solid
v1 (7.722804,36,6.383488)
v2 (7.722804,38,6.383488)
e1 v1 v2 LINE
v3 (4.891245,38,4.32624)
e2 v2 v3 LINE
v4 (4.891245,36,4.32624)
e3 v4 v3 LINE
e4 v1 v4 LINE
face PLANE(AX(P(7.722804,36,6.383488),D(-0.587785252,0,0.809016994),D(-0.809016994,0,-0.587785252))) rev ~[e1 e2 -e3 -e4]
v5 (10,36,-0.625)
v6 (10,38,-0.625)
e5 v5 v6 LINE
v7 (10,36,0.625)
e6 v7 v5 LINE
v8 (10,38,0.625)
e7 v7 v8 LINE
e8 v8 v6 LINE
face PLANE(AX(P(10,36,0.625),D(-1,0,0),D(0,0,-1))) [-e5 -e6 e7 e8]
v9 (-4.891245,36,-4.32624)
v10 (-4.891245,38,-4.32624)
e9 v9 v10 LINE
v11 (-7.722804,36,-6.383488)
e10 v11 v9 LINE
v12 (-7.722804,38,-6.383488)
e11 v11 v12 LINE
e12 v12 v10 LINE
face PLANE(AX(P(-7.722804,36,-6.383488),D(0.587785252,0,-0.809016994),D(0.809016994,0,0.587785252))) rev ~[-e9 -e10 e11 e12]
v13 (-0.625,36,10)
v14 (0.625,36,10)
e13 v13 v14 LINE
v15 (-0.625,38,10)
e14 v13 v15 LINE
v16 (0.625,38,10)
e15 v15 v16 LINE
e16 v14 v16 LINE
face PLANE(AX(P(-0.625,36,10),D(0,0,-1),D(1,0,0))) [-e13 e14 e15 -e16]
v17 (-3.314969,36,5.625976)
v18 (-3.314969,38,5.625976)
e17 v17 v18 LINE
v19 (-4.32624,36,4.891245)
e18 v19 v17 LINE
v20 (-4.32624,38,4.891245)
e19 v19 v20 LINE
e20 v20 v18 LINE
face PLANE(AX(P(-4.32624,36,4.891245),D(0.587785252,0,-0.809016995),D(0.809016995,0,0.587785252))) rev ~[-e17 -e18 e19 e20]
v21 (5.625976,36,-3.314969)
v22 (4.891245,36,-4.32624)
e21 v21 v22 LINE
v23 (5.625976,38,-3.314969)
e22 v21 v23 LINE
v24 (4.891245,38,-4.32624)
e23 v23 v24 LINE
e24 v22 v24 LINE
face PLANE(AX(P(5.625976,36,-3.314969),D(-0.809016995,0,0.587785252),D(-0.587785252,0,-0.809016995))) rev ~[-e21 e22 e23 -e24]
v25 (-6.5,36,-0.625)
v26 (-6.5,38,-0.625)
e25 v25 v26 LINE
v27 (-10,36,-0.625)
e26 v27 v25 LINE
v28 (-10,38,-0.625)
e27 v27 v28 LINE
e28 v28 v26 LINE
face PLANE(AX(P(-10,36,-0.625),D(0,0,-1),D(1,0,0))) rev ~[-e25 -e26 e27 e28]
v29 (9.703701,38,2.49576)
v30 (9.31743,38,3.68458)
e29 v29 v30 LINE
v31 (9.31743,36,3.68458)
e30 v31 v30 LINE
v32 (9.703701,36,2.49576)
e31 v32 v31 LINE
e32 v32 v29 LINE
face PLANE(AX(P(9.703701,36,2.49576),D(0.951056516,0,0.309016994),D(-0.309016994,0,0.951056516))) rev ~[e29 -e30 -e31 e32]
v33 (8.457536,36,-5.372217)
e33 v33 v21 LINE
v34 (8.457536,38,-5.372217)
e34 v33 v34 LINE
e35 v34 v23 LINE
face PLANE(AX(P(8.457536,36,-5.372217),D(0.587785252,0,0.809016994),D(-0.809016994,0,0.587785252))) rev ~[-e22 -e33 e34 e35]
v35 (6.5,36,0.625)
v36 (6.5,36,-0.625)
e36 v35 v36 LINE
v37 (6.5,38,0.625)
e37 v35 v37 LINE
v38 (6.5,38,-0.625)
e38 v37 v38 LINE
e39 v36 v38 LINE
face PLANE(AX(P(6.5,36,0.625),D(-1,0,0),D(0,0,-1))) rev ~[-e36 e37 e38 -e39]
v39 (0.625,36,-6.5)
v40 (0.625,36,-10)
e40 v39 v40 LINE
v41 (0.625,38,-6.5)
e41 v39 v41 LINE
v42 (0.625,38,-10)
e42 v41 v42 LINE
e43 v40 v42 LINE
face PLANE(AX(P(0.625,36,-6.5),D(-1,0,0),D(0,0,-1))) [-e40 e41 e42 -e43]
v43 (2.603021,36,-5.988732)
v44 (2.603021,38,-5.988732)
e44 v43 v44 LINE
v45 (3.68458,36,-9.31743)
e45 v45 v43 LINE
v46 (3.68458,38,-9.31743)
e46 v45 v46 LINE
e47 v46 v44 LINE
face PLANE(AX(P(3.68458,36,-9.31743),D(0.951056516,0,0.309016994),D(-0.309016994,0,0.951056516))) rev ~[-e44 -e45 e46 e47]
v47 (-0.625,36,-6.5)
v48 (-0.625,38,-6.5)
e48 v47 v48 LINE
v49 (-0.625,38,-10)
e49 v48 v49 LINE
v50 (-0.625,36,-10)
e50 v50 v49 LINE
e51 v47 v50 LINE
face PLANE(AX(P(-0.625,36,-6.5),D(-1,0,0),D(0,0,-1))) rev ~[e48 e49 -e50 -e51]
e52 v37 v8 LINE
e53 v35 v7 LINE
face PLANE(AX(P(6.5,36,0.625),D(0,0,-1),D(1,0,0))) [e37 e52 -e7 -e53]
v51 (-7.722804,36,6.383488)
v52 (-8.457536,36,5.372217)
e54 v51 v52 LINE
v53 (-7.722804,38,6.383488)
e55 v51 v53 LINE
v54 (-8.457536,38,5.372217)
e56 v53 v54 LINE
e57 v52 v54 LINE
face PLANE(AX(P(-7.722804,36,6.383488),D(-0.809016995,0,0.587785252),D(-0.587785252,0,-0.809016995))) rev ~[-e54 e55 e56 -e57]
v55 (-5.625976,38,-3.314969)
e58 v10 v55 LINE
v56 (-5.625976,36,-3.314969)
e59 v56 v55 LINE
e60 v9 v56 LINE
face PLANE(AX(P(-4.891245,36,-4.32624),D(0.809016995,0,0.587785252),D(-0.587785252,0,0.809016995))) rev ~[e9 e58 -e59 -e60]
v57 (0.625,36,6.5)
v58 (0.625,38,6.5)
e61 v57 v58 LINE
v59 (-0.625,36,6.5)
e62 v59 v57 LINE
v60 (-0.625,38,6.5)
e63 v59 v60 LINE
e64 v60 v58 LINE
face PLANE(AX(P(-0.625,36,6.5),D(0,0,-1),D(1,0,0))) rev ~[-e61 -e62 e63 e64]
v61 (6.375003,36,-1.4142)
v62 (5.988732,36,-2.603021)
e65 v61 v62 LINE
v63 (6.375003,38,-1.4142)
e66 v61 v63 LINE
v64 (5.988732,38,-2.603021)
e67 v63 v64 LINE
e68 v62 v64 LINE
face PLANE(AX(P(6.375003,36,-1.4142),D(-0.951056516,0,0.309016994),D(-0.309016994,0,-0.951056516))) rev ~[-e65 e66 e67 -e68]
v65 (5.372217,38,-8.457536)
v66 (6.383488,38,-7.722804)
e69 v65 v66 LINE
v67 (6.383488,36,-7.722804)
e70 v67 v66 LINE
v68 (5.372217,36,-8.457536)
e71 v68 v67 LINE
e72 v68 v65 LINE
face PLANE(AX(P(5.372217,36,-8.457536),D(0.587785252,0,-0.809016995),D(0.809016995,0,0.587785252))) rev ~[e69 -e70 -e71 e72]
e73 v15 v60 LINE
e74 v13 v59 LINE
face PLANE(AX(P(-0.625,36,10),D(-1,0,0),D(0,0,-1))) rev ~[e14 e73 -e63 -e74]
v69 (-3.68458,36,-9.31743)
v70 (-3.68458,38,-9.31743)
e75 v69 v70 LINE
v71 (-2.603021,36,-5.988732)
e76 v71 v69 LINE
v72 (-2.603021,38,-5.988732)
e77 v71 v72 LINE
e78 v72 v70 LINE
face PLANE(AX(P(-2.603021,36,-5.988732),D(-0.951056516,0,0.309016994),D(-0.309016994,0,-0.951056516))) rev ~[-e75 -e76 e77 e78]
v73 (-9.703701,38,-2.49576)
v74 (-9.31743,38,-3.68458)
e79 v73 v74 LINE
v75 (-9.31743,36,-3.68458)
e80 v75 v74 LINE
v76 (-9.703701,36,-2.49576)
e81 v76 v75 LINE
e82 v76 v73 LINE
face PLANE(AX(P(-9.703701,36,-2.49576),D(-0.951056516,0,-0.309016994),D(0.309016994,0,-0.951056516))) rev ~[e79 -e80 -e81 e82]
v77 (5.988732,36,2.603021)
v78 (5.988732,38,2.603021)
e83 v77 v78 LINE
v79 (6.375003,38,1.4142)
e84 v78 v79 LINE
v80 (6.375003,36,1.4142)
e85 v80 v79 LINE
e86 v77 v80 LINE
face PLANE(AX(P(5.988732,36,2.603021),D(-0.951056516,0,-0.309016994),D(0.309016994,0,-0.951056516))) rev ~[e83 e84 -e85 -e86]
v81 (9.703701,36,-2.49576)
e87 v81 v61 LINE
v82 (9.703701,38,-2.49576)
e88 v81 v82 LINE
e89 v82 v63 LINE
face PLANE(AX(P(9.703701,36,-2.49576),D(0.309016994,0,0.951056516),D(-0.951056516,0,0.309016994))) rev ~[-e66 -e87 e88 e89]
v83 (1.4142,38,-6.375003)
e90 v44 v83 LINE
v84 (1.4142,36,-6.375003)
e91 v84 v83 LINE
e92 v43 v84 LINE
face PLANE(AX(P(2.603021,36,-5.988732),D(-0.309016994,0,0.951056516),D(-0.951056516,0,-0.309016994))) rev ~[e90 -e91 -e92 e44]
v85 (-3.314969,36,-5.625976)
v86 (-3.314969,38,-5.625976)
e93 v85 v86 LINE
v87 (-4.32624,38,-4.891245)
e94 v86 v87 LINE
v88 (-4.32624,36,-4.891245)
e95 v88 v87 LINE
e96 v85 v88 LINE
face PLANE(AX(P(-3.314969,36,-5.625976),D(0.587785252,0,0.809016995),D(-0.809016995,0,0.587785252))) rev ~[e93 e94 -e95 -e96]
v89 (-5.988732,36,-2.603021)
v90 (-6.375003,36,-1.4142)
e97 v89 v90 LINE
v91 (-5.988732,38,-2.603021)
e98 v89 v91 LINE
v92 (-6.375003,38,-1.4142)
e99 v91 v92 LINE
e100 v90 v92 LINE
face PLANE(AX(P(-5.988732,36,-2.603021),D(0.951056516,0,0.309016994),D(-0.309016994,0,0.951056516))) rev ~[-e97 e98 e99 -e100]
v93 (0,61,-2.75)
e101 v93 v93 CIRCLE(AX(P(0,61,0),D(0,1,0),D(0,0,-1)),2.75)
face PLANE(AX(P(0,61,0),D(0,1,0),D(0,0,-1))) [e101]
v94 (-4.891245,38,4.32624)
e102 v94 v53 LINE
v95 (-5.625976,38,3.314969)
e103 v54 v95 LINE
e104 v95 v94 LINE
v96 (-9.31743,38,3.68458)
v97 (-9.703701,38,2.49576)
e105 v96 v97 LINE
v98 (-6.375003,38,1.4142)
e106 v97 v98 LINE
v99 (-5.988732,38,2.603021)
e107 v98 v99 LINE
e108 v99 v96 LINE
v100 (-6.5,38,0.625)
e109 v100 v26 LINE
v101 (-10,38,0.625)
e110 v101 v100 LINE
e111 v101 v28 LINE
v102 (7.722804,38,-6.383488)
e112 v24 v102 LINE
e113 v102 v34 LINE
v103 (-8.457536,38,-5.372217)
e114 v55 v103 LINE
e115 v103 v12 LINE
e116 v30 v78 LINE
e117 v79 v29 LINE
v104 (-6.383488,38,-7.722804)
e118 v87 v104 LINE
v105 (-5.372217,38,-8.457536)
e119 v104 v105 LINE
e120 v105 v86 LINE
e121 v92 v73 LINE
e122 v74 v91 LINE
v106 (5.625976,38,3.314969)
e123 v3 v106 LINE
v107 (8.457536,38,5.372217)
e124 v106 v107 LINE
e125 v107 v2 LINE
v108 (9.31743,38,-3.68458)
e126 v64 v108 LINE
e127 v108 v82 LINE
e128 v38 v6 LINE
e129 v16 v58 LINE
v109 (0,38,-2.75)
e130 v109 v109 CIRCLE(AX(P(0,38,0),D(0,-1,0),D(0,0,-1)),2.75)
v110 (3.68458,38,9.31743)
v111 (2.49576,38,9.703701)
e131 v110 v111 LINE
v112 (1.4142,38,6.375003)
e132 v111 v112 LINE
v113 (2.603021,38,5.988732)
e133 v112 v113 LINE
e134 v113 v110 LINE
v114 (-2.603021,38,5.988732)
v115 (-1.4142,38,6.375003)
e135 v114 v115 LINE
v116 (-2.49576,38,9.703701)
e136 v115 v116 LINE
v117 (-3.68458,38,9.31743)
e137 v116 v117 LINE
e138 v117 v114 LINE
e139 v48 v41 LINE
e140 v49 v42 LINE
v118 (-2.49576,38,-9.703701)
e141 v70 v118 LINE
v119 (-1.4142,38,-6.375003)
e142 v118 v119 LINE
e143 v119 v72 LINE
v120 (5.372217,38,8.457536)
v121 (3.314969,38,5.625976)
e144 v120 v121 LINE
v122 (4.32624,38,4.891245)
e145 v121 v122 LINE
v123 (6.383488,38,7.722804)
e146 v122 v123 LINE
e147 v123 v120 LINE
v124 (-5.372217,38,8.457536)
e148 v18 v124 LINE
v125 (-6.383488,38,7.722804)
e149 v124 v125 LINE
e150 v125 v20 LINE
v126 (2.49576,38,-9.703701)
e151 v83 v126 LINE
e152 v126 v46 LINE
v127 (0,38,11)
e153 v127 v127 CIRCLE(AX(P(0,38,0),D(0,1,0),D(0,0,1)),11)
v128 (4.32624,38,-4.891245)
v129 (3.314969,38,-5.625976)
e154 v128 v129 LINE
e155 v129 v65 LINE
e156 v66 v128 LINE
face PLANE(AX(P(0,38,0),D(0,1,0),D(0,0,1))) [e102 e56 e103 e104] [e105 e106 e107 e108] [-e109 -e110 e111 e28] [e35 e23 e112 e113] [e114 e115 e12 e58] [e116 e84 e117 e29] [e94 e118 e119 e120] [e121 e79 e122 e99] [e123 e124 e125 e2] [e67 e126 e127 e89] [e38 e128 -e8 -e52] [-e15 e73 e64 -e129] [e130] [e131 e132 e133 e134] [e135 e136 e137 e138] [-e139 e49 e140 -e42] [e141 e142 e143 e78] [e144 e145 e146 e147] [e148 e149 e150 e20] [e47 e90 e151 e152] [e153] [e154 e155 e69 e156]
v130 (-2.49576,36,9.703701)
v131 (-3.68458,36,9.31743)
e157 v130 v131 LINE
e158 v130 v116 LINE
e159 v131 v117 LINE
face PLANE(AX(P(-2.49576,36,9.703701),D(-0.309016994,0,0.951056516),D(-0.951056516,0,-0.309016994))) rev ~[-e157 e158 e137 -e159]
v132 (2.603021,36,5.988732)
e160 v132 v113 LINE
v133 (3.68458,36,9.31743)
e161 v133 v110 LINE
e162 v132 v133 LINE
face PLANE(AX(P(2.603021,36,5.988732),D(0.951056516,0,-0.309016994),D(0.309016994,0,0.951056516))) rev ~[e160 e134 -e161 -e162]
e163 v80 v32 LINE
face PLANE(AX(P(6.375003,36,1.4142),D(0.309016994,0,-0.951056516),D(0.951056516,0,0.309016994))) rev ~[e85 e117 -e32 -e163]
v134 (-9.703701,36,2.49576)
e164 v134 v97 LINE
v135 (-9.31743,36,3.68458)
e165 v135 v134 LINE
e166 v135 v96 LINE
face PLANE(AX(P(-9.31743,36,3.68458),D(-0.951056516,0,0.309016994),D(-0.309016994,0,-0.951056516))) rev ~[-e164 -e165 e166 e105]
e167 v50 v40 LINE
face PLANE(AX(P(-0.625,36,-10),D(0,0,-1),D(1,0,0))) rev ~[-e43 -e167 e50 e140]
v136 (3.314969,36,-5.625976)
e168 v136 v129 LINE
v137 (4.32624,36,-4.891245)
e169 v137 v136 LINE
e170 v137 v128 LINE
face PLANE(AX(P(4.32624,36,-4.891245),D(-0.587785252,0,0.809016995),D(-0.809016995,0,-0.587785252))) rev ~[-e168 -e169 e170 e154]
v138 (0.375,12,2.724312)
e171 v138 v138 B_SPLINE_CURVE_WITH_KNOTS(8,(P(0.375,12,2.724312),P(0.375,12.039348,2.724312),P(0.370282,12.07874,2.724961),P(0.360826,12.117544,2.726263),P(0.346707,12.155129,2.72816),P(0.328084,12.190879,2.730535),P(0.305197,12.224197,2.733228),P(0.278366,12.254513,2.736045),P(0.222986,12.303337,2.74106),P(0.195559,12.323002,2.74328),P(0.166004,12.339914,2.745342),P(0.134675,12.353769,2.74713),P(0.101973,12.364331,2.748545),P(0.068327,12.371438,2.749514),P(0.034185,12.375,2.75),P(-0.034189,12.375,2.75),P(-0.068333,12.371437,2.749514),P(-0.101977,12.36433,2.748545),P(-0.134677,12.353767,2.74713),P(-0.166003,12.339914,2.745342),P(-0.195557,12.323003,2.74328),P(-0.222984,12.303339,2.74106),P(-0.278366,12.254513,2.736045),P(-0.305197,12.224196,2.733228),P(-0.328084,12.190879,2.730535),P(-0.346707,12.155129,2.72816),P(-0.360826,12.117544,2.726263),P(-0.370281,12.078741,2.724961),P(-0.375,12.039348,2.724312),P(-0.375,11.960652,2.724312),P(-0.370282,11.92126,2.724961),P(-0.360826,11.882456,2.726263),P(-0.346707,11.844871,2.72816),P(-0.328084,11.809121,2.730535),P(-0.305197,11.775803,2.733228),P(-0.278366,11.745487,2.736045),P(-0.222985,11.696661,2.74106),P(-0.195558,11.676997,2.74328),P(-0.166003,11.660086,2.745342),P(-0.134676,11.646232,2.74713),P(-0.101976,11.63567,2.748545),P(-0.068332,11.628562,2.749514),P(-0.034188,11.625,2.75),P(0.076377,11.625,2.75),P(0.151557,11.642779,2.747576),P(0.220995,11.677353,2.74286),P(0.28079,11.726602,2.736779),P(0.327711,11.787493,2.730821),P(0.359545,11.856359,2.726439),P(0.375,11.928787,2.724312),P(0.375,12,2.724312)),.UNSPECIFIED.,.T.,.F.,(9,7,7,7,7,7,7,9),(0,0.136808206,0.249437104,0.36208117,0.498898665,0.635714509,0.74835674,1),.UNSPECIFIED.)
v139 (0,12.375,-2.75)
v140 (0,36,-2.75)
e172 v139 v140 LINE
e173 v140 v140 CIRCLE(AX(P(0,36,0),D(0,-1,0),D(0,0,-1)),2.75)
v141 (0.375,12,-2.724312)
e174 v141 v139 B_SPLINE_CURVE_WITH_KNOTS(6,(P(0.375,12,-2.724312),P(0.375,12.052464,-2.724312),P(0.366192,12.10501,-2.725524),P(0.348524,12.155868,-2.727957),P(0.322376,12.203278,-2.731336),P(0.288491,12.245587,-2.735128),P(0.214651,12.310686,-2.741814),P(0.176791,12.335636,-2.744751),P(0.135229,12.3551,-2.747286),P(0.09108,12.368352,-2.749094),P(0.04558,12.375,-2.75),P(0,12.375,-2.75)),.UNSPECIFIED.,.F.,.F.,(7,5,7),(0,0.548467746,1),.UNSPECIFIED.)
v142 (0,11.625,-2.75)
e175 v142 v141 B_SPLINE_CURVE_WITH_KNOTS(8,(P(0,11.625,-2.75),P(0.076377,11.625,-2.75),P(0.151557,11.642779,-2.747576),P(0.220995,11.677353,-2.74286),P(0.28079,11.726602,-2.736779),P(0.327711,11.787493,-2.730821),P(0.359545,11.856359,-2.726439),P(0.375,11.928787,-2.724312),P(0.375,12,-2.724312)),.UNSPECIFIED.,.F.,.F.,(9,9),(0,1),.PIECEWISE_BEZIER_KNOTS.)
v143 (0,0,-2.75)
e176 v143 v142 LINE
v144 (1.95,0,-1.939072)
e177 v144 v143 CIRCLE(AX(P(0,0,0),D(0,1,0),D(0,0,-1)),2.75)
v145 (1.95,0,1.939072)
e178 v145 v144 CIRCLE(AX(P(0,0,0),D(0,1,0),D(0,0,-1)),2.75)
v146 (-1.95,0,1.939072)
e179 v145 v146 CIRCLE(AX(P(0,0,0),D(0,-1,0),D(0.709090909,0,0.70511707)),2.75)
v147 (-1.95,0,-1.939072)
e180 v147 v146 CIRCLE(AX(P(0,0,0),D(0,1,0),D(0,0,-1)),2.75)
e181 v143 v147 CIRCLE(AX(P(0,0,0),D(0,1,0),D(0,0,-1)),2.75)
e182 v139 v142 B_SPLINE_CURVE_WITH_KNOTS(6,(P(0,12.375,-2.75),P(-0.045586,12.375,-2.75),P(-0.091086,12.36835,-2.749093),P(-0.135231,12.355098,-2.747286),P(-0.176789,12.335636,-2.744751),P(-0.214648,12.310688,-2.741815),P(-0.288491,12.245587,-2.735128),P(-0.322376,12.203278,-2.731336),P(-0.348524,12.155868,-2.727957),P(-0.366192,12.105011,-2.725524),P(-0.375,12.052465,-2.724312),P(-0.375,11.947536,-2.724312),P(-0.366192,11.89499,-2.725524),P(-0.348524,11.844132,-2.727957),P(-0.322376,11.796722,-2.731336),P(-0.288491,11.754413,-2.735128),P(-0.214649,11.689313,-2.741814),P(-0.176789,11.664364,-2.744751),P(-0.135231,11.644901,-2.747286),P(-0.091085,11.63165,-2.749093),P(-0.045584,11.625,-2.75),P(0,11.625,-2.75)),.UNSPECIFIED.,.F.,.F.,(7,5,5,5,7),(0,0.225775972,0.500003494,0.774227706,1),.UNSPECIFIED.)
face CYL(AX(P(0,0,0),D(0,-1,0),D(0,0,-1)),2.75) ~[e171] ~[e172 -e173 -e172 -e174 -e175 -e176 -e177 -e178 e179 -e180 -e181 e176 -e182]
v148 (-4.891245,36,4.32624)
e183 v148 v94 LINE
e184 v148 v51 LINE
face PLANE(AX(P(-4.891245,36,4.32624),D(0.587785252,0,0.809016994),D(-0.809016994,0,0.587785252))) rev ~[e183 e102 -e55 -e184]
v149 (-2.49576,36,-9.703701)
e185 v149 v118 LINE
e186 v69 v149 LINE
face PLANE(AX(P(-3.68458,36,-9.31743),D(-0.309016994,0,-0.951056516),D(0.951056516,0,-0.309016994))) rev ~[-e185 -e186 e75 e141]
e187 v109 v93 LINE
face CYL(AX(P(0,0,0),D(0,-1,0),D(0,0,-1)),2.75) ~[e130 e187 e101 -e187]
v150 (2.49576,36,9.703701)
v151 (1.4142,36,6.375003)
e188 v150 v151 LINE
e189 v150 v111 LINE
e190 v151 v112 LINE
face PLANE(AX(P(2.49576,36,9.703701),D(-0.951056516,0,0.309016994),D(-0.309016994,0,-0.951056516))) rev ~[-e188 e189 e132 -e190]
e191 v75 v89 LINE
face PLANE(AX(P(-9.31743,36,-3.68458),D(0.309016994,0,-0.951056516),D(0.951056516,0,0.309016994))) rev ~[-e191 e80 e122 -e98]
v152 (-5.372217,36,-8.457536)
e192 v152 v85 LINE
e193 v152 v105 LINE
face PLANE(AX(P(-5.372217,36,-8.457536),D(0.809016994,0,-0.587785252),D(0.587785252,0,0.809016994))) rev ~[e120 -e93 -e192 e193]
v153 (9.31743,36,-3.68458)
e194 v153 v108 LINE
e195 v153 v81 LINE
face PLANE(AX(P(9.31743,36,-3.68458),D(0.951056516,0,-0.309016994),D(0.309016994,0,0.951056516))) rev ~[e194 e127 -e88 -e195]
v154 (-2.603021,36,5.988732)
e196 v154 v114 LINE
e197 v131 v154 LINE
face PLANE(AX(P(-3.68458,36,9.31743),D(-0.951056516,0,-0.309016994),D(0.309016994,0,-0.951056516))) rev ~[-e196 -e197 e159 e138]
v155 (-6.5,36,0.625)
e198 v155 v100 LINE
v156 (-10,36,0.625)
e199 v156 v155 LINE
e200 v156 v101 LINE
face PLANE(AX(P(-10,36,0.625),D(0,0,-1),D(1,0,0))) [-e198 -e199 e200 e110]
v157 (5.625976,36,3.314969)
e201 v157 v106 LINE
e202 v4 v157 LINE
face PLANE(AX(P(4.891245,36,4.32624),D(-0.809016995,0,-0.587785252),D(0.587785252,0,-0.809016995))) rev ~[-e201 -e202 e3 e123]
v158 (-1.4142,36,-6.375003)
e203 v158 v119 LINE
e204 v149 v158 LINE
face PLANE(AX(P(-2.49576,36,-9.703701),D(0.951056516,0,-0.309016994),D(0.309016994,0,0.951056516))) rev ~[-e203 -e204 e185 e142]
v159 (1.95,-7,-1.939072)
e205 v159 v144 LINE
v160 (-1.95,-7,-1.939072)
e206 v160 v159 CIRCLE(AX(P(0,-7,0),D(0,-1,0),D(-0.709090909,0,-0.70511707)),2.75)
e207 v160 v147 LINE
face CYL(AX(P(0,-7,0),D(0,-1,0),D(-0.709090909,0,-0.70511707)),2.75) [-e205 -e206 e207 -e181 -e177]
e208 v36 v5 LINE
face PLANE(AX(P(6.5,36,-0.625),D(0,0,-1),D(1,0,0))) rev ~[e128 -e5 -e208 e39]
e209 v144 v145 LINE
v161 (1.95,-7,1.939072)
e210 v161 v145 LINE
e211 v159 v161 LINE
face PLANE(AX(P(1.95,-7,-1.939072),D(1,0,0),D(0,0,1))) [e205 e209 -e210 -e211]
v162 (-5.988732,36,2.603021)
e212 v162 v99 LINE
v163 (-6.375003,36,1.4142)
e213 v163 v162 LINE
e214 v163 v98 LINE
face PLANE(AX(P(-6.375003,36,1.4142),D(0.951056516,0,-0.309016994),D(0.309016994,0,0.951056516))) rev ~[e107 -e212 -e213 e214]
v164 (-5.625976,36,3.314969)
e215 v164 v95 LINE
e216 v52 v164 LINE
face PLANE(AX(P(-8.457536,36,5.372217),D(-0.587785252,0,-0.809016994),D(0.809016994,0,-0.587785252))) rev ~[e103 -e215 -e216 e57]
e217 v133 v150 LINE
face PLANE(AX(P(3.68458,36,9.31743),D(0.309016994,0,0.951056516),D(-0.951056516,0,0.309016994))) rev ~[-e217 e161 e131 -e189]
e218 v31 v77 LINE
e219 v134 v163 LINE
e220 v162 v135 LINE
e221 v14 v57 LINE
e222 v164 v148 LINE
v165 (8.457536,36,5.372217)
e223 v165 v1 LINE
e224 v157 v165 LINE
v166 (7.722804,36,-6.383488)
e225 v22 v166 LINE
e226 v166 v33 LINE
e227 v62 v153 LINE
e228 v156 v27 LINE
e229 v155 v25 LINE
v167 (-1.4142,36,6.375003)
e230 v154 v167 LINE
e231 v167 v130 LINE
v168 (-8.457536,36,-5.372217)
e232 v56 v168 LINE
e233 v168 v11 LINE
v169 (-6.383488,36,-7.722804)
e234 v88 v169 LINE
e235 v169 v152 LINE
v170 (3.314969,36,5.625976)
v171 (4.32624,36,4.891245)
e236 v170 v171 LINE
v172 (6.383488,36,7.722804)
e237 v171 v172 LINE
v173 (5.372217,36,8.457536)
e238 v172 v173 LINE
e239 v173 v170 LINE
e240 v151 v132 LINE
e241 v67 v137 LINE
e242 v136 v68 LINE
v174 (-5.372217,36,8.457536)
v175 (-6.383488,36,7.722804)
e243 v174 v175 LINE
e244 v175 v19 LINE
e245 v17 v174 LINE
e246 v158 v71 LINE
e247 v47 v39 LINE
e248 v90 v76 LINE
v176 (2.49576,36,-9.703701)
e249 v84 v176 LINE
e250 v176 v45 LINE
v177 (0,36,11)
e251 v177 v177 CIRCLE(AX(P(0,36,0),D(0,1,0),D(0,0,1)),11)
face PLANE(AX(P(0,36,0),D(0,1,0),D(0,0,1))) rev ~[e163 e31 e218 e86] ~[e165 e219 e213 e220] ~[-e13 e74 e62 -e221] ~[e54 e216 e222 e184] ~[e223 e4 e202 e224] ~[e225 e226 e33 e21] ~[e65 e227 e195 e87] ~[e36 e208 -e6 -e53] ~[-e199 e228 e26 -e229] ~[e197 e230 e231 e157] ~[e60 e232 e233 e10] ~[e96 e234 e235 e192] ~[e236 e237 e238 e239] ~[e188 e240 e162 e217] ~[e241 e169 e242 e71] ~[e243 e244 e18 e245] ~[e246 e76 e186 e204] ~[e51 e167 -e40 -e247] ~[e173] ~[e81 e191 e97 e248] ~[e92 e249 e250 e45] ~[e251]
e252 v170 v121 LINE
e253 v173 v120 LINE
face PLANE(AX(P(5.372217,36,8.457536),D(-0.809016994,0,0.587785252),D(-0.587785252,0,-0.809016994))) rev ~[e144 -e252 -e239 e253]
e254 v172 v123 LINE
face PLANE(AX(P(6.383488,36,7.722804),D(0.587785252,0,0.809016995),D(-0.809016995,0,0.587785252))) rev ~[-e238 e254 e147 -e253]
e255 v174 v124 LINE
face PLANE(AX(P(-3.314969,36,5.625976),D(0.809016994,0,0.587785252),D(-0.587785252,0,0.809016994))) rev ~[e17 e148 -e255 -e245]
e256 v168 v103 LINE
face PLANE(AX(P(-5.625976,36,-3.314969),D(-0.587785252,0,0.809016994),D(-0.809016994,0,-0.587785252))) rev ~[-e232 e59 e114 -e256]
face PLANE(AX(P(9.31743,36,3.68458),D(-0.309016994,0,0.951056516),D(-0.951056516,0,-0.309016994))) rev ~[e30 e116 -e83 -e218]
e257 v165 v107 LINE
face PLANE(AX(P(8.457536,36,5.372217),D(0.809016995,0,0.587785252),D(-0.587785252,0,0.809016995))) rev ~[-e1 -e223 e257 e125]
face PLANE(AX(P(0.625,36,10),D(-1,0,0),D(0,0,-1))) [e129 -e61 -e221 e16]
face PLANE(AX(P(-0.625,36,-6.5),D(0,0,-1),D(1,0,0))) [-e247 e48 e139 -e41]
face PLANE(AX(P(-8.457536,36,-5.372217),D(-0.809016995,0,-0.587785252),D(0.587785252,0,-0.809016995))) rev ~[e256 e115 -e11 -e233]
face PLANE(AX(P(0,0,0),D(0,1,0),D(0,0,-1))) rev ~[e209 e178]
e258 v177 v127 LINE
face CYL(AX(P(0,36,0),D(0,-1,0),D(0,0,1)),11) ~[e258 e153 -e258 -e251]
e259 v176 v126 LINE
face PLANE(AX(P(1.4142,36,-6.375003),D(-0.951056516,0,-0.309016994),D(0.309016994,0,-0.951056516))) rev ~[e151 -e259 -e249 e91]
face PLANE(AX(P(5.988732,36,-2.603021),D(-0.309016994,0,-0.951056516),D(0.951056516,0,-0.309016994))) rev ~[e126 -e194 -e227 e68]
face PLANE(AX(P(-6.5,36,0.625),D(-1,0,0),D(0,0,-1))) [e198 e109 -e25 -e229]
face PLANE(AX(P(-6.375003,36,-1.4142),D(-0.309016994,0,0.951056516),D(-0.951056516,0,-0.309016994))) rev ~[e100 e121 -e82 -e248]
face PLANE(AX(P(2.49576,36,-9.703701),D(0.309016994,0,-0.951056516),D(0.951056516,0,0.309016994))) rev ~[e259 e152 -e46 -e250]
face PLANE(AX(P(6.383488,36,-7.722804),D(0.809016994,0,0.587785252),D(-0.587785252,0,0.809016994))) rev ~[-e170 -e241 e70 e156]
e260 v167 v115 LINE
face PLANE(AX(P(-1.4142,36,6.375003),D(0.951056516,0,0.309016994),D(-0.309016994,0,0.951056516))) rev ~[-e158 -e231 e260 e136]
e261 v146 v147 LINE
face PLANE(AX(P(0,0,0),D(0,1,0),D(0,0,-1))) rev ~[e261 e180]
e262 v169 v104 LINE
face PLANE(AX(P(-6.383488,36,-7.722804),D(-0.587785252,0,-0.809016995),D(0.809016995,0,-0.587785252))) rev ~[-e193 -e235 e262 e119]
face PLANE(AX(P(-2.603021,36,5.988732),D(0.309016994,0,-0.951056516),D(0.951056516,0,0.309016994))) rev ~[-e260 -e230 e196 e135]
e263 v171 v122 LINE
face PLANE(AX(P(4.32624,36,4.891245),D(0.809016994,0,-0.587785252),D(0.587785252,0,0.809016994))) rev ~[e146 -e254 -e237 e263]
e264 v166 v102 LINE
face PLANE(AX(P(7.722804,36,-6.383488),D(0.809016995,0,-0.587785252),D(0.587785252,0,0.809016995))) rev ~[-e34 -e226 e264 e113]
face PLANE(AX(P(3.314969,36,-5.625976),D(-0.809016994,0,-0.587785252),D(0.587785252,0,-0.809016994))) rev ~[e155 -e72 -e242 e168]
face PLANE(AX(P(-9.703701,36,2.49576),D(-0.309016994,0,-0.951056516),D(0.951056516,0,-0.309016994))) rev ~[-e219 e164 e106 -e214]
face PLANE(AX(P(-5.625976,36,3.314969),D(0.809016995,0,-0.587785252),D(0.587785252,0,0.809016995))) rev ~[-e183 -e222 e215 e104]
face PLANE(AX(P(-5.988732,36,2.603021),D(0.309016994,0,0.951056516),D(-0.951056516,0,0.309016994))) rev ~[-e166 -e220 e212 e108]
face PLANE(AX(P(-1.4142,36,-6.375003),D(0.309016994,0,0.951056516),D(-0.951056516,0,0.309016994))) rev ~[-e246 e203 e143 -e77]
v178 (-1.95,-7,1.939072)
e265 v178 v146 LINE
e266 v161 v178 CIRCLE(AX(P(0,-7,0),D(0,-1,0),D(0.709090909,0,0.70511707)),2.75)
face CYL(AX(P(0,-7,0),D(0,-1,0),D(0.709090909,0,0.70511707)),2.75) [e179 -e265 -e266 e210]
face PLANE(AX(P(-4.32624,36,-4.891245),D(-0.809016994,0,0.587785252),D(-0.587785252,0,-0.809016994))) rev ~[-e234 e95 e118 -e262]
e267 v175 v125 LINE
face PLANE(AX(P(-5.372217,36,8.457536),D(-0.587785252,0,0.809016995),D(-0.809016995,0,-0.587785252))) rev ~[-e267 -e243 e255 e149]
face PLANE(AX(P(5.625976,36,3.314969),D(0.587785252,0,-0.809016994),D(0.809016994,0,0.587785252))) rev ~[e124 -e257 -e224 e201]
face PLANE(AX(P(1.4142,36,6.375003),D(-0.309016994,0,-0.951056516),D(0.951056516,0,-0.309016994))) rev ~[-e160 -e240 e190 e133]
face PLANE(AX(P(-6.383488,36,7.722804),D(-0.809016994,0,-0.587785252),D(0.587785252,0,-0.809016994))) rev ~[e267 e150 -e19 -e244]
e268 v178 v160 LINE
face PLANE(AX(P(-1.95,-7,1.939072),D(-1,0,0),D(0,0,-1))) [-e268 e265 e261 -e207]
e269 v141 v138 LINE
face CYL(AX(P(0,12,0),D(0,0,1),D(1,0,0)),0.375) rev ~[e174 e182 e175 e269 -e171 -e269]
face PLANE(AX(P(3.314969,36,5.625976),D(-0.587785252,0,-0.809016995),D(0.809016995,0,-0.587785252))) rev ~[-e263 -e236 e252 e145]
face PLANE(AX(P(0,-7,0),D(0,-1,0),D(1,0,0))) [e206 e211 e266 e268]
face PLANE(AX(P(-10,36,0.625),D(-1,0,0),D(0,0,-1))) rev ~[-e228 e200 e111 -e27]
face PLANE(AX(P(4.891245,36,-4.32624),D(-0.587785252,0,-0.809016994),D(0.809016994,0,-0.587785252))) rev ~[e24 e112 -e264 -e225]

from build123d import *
from build123d.topology import SkipClean

# Parameters (mm, degrees)
SKETCH_1_R          = 2.75
EXTRUDE_1_DEPTH     = 61
EXTRUDE_START       = 7
EXTRUDE_2_DEPTH     = 7
SKETCH_4_R          = 0.375
CUT_EXTRUDE_1_DEPTH = 5
EXTRUDE_START_2     = -25
SKETCH_6_R          = 11
SKETCH_6_W          = 1.25
SKETCH_6_H          = 3.5
SKETCH_6_W_2        = 3.5
SKETCH_6_H_2        = 1.25
EXTRUDE_4_DEPTH     = 2


with BuildPart() as part:
    # 草图1 → 凸台-拉伸1 (new body)
    with BuildSketch(Plane(origin=(0, 0, 0), x_dir=(1, 0, 0), z_dir=(0, 1, 0))):
        Circle(SKETCH_1_R)
    extrude(amount=EXTRUDE_1_DEPTH)

    # 草图2 → 凸台-拉伸2 (add)
    with SkipClean():  # the faces are left unmerged after this step: merging them gives an invalid solid
        with BuildSketch(Plane.XZ.offset(EXTRUDE_START)):
            with BuildLine():
                Line((-1.95, 1.939071943), (-1.95, -1.939071943))
                ThreePointArc((-1.95, -1.939071943), (0, -2.75), (1.95, -1.939071943))
                Line((1.95, -1.939071943), (1.95, 1.939071943))
                ThreePointArc((1.95, 1.939071943), (0, 2.75), (-1.95, 1.939071943))
            make_face()
        extrude(amount=-EXTRUDE_2_DEPTH)

    # 草图4 → 切除-拉伸1 (cut, symmetric)
    with SkipClean():  # the faces are left unmerged after this step: merging them gives an invalid solid
        with BuildSketch(Plane.XY):
            with Locations((0, 12)):
                Circle(SKETCH_4_R)
        extrude(amount=CUT_EXTRUDE_1_DEPTH, both=True, mode=Mode.SUBTRACT)

    # 草图6 → 凸台-拉伸4 (add)
    with SkipClean():  # the faces are left unmerged after this step: merging them gives an invalid solid
        with BuildSketch(Plane(origin=(0, 61, 0), x_dir=(1, 0, 0), z_dir=(0, 1, 0)).offset(EXTRUDE_START_2)):
            Circle(SKETCH_6_R)
            Polygon((2.495759621, 9.703700784), (3.684580266, 9.317429541), (2.603020786, 5.988731734), (1.414200141, 6.375002977), align=None, mode=Mode.SUBTRACT)
            with Locations((0, 8.25)):
                Rectangle(SKETCH_6_W, SKETCH_6_H, mode=Mode.SUBTRACT)
            Polygon((5.372216901, 8.457535726), (6.383488144, 7.722804161), (4.326239761, 4.891244681), (3.314968518, 5.625976246), align=None, mode=Mode.SUBTRACT)
            Polygon((7.722804161, 6.383488144), (8.457535726, 5.372216901), (5.625976246, 3.314968518), (4.891244681, 4.326239761), align=None, mode=Mode.SUBTRACT)
            Polygon((9.317429541, 3.684580266), (9.703700784, 2.495759621), (6.375002977, 1.414200141), (5.988731734, 2.603020786), align=None, mode=Mode.SUBTRACT)
            with Locations((8.25, 0)):
                Rectangle(SKETCH_6_W_2, SKETCH_6_H_2, mode=Mode.SUBTRACT)
            Polygon((9.703700784, -2.495759621), (9.317429541, -3.684580266), (5.988731734, -2.603020786), (6.375002977, -1.414200141), align=None, mode=Mode.SUBTRACT)
            Polygon((8.457535726, -5.372216901), (7.722804161, -6.383488144), (4.891244681, -4.326239761), (5.625976246, -3.314968518), align=None, mode=Mode.SUBTRACT)
            Polygon((6.383488144, -7.722804161), (5.372216901, -8.457535726), (3.314968518, -5.625976246), (4.326239761, -4.891244681), align=None, mode=Mode.SUBTRACT)
            Polygon((3.684580266, -9.317429541), (2.495759621, -9.703700784), (1.414200141, -6.375002977), (2.603020786, -5.988731734), align=None, mode=Mode.SUBTRACT)
            with Locations((0, -8.25)):
                Rectangle(SKETCH_6_W, SKETCH_6_H, mode=Mode.SUBTRACT)
            Polygon((-2.495759621, -9.703700784), (-3.684580266, -9.317429541), (-2.603020786, -5.988731734), (-1.414200141, -6.375002977), align=None, mode=Mode.SUBTRACT)
            Polygon((-5.372216901, -8.457535726), (-6.383488144, -7.722804161), (-4.326239761, -4.891244681), (-3.314968518, -5.625976246), align=None, mode=Mode.SUBTRACT)
            Polygon((-7.722804161, -6.383488144), (-8.457535726, -5.372216901), (-5.625976246, -3.314968518), (-4.891244681, -4.326239761), align=None, mode=Mode.SUBTRACT)
            Polygon((-9.317429541, -3.684580266), (-9.703700784, -2.495759621), (-6.375002977, -1.414200141), (-5.988731734, -2.603020786), align=None, mode=Mode.SUBTRACT)
            with Locations((-8.25, 0)):
                Rectangle(SKETCH_6_W_2, SKETCH_6_H_2, mode=Mode.SUBTRACT)
            Polygon((-9.703700784, 2.495759621), (-9.317429541, 3.684580266), (-5.988731734, 2.603020786), (-6.375002977, 1.414200141), align=None, mode=Mode.SUBTRACT)
            Polygon((-8.457535726, 5.372216901), (-7.722804161, 6.383488144), (-4.891244681, 4.326239761), (-5.625976246, 3.314968518), align=None, mode=Mode.SUBTRACT)
            Polygon((-6.383488144, 7.722804161), (-5.372216901, 8.457535726), (-3.314968518, 5.625976246), (-4.326239761, 4.891244681), align=None, mode=Mode.SUBTRACT)
            Polygon((-3.684580266, 9.317429541), (-2.495759621, 9.703700784), (-1.414200141, 6.375002977), (-2.603020786, 5.988731734), align=None, mode=Mode.SUBTRACT)
        extrude(amount=EXTRUDE_4_DEPTH)


solid = part.part
